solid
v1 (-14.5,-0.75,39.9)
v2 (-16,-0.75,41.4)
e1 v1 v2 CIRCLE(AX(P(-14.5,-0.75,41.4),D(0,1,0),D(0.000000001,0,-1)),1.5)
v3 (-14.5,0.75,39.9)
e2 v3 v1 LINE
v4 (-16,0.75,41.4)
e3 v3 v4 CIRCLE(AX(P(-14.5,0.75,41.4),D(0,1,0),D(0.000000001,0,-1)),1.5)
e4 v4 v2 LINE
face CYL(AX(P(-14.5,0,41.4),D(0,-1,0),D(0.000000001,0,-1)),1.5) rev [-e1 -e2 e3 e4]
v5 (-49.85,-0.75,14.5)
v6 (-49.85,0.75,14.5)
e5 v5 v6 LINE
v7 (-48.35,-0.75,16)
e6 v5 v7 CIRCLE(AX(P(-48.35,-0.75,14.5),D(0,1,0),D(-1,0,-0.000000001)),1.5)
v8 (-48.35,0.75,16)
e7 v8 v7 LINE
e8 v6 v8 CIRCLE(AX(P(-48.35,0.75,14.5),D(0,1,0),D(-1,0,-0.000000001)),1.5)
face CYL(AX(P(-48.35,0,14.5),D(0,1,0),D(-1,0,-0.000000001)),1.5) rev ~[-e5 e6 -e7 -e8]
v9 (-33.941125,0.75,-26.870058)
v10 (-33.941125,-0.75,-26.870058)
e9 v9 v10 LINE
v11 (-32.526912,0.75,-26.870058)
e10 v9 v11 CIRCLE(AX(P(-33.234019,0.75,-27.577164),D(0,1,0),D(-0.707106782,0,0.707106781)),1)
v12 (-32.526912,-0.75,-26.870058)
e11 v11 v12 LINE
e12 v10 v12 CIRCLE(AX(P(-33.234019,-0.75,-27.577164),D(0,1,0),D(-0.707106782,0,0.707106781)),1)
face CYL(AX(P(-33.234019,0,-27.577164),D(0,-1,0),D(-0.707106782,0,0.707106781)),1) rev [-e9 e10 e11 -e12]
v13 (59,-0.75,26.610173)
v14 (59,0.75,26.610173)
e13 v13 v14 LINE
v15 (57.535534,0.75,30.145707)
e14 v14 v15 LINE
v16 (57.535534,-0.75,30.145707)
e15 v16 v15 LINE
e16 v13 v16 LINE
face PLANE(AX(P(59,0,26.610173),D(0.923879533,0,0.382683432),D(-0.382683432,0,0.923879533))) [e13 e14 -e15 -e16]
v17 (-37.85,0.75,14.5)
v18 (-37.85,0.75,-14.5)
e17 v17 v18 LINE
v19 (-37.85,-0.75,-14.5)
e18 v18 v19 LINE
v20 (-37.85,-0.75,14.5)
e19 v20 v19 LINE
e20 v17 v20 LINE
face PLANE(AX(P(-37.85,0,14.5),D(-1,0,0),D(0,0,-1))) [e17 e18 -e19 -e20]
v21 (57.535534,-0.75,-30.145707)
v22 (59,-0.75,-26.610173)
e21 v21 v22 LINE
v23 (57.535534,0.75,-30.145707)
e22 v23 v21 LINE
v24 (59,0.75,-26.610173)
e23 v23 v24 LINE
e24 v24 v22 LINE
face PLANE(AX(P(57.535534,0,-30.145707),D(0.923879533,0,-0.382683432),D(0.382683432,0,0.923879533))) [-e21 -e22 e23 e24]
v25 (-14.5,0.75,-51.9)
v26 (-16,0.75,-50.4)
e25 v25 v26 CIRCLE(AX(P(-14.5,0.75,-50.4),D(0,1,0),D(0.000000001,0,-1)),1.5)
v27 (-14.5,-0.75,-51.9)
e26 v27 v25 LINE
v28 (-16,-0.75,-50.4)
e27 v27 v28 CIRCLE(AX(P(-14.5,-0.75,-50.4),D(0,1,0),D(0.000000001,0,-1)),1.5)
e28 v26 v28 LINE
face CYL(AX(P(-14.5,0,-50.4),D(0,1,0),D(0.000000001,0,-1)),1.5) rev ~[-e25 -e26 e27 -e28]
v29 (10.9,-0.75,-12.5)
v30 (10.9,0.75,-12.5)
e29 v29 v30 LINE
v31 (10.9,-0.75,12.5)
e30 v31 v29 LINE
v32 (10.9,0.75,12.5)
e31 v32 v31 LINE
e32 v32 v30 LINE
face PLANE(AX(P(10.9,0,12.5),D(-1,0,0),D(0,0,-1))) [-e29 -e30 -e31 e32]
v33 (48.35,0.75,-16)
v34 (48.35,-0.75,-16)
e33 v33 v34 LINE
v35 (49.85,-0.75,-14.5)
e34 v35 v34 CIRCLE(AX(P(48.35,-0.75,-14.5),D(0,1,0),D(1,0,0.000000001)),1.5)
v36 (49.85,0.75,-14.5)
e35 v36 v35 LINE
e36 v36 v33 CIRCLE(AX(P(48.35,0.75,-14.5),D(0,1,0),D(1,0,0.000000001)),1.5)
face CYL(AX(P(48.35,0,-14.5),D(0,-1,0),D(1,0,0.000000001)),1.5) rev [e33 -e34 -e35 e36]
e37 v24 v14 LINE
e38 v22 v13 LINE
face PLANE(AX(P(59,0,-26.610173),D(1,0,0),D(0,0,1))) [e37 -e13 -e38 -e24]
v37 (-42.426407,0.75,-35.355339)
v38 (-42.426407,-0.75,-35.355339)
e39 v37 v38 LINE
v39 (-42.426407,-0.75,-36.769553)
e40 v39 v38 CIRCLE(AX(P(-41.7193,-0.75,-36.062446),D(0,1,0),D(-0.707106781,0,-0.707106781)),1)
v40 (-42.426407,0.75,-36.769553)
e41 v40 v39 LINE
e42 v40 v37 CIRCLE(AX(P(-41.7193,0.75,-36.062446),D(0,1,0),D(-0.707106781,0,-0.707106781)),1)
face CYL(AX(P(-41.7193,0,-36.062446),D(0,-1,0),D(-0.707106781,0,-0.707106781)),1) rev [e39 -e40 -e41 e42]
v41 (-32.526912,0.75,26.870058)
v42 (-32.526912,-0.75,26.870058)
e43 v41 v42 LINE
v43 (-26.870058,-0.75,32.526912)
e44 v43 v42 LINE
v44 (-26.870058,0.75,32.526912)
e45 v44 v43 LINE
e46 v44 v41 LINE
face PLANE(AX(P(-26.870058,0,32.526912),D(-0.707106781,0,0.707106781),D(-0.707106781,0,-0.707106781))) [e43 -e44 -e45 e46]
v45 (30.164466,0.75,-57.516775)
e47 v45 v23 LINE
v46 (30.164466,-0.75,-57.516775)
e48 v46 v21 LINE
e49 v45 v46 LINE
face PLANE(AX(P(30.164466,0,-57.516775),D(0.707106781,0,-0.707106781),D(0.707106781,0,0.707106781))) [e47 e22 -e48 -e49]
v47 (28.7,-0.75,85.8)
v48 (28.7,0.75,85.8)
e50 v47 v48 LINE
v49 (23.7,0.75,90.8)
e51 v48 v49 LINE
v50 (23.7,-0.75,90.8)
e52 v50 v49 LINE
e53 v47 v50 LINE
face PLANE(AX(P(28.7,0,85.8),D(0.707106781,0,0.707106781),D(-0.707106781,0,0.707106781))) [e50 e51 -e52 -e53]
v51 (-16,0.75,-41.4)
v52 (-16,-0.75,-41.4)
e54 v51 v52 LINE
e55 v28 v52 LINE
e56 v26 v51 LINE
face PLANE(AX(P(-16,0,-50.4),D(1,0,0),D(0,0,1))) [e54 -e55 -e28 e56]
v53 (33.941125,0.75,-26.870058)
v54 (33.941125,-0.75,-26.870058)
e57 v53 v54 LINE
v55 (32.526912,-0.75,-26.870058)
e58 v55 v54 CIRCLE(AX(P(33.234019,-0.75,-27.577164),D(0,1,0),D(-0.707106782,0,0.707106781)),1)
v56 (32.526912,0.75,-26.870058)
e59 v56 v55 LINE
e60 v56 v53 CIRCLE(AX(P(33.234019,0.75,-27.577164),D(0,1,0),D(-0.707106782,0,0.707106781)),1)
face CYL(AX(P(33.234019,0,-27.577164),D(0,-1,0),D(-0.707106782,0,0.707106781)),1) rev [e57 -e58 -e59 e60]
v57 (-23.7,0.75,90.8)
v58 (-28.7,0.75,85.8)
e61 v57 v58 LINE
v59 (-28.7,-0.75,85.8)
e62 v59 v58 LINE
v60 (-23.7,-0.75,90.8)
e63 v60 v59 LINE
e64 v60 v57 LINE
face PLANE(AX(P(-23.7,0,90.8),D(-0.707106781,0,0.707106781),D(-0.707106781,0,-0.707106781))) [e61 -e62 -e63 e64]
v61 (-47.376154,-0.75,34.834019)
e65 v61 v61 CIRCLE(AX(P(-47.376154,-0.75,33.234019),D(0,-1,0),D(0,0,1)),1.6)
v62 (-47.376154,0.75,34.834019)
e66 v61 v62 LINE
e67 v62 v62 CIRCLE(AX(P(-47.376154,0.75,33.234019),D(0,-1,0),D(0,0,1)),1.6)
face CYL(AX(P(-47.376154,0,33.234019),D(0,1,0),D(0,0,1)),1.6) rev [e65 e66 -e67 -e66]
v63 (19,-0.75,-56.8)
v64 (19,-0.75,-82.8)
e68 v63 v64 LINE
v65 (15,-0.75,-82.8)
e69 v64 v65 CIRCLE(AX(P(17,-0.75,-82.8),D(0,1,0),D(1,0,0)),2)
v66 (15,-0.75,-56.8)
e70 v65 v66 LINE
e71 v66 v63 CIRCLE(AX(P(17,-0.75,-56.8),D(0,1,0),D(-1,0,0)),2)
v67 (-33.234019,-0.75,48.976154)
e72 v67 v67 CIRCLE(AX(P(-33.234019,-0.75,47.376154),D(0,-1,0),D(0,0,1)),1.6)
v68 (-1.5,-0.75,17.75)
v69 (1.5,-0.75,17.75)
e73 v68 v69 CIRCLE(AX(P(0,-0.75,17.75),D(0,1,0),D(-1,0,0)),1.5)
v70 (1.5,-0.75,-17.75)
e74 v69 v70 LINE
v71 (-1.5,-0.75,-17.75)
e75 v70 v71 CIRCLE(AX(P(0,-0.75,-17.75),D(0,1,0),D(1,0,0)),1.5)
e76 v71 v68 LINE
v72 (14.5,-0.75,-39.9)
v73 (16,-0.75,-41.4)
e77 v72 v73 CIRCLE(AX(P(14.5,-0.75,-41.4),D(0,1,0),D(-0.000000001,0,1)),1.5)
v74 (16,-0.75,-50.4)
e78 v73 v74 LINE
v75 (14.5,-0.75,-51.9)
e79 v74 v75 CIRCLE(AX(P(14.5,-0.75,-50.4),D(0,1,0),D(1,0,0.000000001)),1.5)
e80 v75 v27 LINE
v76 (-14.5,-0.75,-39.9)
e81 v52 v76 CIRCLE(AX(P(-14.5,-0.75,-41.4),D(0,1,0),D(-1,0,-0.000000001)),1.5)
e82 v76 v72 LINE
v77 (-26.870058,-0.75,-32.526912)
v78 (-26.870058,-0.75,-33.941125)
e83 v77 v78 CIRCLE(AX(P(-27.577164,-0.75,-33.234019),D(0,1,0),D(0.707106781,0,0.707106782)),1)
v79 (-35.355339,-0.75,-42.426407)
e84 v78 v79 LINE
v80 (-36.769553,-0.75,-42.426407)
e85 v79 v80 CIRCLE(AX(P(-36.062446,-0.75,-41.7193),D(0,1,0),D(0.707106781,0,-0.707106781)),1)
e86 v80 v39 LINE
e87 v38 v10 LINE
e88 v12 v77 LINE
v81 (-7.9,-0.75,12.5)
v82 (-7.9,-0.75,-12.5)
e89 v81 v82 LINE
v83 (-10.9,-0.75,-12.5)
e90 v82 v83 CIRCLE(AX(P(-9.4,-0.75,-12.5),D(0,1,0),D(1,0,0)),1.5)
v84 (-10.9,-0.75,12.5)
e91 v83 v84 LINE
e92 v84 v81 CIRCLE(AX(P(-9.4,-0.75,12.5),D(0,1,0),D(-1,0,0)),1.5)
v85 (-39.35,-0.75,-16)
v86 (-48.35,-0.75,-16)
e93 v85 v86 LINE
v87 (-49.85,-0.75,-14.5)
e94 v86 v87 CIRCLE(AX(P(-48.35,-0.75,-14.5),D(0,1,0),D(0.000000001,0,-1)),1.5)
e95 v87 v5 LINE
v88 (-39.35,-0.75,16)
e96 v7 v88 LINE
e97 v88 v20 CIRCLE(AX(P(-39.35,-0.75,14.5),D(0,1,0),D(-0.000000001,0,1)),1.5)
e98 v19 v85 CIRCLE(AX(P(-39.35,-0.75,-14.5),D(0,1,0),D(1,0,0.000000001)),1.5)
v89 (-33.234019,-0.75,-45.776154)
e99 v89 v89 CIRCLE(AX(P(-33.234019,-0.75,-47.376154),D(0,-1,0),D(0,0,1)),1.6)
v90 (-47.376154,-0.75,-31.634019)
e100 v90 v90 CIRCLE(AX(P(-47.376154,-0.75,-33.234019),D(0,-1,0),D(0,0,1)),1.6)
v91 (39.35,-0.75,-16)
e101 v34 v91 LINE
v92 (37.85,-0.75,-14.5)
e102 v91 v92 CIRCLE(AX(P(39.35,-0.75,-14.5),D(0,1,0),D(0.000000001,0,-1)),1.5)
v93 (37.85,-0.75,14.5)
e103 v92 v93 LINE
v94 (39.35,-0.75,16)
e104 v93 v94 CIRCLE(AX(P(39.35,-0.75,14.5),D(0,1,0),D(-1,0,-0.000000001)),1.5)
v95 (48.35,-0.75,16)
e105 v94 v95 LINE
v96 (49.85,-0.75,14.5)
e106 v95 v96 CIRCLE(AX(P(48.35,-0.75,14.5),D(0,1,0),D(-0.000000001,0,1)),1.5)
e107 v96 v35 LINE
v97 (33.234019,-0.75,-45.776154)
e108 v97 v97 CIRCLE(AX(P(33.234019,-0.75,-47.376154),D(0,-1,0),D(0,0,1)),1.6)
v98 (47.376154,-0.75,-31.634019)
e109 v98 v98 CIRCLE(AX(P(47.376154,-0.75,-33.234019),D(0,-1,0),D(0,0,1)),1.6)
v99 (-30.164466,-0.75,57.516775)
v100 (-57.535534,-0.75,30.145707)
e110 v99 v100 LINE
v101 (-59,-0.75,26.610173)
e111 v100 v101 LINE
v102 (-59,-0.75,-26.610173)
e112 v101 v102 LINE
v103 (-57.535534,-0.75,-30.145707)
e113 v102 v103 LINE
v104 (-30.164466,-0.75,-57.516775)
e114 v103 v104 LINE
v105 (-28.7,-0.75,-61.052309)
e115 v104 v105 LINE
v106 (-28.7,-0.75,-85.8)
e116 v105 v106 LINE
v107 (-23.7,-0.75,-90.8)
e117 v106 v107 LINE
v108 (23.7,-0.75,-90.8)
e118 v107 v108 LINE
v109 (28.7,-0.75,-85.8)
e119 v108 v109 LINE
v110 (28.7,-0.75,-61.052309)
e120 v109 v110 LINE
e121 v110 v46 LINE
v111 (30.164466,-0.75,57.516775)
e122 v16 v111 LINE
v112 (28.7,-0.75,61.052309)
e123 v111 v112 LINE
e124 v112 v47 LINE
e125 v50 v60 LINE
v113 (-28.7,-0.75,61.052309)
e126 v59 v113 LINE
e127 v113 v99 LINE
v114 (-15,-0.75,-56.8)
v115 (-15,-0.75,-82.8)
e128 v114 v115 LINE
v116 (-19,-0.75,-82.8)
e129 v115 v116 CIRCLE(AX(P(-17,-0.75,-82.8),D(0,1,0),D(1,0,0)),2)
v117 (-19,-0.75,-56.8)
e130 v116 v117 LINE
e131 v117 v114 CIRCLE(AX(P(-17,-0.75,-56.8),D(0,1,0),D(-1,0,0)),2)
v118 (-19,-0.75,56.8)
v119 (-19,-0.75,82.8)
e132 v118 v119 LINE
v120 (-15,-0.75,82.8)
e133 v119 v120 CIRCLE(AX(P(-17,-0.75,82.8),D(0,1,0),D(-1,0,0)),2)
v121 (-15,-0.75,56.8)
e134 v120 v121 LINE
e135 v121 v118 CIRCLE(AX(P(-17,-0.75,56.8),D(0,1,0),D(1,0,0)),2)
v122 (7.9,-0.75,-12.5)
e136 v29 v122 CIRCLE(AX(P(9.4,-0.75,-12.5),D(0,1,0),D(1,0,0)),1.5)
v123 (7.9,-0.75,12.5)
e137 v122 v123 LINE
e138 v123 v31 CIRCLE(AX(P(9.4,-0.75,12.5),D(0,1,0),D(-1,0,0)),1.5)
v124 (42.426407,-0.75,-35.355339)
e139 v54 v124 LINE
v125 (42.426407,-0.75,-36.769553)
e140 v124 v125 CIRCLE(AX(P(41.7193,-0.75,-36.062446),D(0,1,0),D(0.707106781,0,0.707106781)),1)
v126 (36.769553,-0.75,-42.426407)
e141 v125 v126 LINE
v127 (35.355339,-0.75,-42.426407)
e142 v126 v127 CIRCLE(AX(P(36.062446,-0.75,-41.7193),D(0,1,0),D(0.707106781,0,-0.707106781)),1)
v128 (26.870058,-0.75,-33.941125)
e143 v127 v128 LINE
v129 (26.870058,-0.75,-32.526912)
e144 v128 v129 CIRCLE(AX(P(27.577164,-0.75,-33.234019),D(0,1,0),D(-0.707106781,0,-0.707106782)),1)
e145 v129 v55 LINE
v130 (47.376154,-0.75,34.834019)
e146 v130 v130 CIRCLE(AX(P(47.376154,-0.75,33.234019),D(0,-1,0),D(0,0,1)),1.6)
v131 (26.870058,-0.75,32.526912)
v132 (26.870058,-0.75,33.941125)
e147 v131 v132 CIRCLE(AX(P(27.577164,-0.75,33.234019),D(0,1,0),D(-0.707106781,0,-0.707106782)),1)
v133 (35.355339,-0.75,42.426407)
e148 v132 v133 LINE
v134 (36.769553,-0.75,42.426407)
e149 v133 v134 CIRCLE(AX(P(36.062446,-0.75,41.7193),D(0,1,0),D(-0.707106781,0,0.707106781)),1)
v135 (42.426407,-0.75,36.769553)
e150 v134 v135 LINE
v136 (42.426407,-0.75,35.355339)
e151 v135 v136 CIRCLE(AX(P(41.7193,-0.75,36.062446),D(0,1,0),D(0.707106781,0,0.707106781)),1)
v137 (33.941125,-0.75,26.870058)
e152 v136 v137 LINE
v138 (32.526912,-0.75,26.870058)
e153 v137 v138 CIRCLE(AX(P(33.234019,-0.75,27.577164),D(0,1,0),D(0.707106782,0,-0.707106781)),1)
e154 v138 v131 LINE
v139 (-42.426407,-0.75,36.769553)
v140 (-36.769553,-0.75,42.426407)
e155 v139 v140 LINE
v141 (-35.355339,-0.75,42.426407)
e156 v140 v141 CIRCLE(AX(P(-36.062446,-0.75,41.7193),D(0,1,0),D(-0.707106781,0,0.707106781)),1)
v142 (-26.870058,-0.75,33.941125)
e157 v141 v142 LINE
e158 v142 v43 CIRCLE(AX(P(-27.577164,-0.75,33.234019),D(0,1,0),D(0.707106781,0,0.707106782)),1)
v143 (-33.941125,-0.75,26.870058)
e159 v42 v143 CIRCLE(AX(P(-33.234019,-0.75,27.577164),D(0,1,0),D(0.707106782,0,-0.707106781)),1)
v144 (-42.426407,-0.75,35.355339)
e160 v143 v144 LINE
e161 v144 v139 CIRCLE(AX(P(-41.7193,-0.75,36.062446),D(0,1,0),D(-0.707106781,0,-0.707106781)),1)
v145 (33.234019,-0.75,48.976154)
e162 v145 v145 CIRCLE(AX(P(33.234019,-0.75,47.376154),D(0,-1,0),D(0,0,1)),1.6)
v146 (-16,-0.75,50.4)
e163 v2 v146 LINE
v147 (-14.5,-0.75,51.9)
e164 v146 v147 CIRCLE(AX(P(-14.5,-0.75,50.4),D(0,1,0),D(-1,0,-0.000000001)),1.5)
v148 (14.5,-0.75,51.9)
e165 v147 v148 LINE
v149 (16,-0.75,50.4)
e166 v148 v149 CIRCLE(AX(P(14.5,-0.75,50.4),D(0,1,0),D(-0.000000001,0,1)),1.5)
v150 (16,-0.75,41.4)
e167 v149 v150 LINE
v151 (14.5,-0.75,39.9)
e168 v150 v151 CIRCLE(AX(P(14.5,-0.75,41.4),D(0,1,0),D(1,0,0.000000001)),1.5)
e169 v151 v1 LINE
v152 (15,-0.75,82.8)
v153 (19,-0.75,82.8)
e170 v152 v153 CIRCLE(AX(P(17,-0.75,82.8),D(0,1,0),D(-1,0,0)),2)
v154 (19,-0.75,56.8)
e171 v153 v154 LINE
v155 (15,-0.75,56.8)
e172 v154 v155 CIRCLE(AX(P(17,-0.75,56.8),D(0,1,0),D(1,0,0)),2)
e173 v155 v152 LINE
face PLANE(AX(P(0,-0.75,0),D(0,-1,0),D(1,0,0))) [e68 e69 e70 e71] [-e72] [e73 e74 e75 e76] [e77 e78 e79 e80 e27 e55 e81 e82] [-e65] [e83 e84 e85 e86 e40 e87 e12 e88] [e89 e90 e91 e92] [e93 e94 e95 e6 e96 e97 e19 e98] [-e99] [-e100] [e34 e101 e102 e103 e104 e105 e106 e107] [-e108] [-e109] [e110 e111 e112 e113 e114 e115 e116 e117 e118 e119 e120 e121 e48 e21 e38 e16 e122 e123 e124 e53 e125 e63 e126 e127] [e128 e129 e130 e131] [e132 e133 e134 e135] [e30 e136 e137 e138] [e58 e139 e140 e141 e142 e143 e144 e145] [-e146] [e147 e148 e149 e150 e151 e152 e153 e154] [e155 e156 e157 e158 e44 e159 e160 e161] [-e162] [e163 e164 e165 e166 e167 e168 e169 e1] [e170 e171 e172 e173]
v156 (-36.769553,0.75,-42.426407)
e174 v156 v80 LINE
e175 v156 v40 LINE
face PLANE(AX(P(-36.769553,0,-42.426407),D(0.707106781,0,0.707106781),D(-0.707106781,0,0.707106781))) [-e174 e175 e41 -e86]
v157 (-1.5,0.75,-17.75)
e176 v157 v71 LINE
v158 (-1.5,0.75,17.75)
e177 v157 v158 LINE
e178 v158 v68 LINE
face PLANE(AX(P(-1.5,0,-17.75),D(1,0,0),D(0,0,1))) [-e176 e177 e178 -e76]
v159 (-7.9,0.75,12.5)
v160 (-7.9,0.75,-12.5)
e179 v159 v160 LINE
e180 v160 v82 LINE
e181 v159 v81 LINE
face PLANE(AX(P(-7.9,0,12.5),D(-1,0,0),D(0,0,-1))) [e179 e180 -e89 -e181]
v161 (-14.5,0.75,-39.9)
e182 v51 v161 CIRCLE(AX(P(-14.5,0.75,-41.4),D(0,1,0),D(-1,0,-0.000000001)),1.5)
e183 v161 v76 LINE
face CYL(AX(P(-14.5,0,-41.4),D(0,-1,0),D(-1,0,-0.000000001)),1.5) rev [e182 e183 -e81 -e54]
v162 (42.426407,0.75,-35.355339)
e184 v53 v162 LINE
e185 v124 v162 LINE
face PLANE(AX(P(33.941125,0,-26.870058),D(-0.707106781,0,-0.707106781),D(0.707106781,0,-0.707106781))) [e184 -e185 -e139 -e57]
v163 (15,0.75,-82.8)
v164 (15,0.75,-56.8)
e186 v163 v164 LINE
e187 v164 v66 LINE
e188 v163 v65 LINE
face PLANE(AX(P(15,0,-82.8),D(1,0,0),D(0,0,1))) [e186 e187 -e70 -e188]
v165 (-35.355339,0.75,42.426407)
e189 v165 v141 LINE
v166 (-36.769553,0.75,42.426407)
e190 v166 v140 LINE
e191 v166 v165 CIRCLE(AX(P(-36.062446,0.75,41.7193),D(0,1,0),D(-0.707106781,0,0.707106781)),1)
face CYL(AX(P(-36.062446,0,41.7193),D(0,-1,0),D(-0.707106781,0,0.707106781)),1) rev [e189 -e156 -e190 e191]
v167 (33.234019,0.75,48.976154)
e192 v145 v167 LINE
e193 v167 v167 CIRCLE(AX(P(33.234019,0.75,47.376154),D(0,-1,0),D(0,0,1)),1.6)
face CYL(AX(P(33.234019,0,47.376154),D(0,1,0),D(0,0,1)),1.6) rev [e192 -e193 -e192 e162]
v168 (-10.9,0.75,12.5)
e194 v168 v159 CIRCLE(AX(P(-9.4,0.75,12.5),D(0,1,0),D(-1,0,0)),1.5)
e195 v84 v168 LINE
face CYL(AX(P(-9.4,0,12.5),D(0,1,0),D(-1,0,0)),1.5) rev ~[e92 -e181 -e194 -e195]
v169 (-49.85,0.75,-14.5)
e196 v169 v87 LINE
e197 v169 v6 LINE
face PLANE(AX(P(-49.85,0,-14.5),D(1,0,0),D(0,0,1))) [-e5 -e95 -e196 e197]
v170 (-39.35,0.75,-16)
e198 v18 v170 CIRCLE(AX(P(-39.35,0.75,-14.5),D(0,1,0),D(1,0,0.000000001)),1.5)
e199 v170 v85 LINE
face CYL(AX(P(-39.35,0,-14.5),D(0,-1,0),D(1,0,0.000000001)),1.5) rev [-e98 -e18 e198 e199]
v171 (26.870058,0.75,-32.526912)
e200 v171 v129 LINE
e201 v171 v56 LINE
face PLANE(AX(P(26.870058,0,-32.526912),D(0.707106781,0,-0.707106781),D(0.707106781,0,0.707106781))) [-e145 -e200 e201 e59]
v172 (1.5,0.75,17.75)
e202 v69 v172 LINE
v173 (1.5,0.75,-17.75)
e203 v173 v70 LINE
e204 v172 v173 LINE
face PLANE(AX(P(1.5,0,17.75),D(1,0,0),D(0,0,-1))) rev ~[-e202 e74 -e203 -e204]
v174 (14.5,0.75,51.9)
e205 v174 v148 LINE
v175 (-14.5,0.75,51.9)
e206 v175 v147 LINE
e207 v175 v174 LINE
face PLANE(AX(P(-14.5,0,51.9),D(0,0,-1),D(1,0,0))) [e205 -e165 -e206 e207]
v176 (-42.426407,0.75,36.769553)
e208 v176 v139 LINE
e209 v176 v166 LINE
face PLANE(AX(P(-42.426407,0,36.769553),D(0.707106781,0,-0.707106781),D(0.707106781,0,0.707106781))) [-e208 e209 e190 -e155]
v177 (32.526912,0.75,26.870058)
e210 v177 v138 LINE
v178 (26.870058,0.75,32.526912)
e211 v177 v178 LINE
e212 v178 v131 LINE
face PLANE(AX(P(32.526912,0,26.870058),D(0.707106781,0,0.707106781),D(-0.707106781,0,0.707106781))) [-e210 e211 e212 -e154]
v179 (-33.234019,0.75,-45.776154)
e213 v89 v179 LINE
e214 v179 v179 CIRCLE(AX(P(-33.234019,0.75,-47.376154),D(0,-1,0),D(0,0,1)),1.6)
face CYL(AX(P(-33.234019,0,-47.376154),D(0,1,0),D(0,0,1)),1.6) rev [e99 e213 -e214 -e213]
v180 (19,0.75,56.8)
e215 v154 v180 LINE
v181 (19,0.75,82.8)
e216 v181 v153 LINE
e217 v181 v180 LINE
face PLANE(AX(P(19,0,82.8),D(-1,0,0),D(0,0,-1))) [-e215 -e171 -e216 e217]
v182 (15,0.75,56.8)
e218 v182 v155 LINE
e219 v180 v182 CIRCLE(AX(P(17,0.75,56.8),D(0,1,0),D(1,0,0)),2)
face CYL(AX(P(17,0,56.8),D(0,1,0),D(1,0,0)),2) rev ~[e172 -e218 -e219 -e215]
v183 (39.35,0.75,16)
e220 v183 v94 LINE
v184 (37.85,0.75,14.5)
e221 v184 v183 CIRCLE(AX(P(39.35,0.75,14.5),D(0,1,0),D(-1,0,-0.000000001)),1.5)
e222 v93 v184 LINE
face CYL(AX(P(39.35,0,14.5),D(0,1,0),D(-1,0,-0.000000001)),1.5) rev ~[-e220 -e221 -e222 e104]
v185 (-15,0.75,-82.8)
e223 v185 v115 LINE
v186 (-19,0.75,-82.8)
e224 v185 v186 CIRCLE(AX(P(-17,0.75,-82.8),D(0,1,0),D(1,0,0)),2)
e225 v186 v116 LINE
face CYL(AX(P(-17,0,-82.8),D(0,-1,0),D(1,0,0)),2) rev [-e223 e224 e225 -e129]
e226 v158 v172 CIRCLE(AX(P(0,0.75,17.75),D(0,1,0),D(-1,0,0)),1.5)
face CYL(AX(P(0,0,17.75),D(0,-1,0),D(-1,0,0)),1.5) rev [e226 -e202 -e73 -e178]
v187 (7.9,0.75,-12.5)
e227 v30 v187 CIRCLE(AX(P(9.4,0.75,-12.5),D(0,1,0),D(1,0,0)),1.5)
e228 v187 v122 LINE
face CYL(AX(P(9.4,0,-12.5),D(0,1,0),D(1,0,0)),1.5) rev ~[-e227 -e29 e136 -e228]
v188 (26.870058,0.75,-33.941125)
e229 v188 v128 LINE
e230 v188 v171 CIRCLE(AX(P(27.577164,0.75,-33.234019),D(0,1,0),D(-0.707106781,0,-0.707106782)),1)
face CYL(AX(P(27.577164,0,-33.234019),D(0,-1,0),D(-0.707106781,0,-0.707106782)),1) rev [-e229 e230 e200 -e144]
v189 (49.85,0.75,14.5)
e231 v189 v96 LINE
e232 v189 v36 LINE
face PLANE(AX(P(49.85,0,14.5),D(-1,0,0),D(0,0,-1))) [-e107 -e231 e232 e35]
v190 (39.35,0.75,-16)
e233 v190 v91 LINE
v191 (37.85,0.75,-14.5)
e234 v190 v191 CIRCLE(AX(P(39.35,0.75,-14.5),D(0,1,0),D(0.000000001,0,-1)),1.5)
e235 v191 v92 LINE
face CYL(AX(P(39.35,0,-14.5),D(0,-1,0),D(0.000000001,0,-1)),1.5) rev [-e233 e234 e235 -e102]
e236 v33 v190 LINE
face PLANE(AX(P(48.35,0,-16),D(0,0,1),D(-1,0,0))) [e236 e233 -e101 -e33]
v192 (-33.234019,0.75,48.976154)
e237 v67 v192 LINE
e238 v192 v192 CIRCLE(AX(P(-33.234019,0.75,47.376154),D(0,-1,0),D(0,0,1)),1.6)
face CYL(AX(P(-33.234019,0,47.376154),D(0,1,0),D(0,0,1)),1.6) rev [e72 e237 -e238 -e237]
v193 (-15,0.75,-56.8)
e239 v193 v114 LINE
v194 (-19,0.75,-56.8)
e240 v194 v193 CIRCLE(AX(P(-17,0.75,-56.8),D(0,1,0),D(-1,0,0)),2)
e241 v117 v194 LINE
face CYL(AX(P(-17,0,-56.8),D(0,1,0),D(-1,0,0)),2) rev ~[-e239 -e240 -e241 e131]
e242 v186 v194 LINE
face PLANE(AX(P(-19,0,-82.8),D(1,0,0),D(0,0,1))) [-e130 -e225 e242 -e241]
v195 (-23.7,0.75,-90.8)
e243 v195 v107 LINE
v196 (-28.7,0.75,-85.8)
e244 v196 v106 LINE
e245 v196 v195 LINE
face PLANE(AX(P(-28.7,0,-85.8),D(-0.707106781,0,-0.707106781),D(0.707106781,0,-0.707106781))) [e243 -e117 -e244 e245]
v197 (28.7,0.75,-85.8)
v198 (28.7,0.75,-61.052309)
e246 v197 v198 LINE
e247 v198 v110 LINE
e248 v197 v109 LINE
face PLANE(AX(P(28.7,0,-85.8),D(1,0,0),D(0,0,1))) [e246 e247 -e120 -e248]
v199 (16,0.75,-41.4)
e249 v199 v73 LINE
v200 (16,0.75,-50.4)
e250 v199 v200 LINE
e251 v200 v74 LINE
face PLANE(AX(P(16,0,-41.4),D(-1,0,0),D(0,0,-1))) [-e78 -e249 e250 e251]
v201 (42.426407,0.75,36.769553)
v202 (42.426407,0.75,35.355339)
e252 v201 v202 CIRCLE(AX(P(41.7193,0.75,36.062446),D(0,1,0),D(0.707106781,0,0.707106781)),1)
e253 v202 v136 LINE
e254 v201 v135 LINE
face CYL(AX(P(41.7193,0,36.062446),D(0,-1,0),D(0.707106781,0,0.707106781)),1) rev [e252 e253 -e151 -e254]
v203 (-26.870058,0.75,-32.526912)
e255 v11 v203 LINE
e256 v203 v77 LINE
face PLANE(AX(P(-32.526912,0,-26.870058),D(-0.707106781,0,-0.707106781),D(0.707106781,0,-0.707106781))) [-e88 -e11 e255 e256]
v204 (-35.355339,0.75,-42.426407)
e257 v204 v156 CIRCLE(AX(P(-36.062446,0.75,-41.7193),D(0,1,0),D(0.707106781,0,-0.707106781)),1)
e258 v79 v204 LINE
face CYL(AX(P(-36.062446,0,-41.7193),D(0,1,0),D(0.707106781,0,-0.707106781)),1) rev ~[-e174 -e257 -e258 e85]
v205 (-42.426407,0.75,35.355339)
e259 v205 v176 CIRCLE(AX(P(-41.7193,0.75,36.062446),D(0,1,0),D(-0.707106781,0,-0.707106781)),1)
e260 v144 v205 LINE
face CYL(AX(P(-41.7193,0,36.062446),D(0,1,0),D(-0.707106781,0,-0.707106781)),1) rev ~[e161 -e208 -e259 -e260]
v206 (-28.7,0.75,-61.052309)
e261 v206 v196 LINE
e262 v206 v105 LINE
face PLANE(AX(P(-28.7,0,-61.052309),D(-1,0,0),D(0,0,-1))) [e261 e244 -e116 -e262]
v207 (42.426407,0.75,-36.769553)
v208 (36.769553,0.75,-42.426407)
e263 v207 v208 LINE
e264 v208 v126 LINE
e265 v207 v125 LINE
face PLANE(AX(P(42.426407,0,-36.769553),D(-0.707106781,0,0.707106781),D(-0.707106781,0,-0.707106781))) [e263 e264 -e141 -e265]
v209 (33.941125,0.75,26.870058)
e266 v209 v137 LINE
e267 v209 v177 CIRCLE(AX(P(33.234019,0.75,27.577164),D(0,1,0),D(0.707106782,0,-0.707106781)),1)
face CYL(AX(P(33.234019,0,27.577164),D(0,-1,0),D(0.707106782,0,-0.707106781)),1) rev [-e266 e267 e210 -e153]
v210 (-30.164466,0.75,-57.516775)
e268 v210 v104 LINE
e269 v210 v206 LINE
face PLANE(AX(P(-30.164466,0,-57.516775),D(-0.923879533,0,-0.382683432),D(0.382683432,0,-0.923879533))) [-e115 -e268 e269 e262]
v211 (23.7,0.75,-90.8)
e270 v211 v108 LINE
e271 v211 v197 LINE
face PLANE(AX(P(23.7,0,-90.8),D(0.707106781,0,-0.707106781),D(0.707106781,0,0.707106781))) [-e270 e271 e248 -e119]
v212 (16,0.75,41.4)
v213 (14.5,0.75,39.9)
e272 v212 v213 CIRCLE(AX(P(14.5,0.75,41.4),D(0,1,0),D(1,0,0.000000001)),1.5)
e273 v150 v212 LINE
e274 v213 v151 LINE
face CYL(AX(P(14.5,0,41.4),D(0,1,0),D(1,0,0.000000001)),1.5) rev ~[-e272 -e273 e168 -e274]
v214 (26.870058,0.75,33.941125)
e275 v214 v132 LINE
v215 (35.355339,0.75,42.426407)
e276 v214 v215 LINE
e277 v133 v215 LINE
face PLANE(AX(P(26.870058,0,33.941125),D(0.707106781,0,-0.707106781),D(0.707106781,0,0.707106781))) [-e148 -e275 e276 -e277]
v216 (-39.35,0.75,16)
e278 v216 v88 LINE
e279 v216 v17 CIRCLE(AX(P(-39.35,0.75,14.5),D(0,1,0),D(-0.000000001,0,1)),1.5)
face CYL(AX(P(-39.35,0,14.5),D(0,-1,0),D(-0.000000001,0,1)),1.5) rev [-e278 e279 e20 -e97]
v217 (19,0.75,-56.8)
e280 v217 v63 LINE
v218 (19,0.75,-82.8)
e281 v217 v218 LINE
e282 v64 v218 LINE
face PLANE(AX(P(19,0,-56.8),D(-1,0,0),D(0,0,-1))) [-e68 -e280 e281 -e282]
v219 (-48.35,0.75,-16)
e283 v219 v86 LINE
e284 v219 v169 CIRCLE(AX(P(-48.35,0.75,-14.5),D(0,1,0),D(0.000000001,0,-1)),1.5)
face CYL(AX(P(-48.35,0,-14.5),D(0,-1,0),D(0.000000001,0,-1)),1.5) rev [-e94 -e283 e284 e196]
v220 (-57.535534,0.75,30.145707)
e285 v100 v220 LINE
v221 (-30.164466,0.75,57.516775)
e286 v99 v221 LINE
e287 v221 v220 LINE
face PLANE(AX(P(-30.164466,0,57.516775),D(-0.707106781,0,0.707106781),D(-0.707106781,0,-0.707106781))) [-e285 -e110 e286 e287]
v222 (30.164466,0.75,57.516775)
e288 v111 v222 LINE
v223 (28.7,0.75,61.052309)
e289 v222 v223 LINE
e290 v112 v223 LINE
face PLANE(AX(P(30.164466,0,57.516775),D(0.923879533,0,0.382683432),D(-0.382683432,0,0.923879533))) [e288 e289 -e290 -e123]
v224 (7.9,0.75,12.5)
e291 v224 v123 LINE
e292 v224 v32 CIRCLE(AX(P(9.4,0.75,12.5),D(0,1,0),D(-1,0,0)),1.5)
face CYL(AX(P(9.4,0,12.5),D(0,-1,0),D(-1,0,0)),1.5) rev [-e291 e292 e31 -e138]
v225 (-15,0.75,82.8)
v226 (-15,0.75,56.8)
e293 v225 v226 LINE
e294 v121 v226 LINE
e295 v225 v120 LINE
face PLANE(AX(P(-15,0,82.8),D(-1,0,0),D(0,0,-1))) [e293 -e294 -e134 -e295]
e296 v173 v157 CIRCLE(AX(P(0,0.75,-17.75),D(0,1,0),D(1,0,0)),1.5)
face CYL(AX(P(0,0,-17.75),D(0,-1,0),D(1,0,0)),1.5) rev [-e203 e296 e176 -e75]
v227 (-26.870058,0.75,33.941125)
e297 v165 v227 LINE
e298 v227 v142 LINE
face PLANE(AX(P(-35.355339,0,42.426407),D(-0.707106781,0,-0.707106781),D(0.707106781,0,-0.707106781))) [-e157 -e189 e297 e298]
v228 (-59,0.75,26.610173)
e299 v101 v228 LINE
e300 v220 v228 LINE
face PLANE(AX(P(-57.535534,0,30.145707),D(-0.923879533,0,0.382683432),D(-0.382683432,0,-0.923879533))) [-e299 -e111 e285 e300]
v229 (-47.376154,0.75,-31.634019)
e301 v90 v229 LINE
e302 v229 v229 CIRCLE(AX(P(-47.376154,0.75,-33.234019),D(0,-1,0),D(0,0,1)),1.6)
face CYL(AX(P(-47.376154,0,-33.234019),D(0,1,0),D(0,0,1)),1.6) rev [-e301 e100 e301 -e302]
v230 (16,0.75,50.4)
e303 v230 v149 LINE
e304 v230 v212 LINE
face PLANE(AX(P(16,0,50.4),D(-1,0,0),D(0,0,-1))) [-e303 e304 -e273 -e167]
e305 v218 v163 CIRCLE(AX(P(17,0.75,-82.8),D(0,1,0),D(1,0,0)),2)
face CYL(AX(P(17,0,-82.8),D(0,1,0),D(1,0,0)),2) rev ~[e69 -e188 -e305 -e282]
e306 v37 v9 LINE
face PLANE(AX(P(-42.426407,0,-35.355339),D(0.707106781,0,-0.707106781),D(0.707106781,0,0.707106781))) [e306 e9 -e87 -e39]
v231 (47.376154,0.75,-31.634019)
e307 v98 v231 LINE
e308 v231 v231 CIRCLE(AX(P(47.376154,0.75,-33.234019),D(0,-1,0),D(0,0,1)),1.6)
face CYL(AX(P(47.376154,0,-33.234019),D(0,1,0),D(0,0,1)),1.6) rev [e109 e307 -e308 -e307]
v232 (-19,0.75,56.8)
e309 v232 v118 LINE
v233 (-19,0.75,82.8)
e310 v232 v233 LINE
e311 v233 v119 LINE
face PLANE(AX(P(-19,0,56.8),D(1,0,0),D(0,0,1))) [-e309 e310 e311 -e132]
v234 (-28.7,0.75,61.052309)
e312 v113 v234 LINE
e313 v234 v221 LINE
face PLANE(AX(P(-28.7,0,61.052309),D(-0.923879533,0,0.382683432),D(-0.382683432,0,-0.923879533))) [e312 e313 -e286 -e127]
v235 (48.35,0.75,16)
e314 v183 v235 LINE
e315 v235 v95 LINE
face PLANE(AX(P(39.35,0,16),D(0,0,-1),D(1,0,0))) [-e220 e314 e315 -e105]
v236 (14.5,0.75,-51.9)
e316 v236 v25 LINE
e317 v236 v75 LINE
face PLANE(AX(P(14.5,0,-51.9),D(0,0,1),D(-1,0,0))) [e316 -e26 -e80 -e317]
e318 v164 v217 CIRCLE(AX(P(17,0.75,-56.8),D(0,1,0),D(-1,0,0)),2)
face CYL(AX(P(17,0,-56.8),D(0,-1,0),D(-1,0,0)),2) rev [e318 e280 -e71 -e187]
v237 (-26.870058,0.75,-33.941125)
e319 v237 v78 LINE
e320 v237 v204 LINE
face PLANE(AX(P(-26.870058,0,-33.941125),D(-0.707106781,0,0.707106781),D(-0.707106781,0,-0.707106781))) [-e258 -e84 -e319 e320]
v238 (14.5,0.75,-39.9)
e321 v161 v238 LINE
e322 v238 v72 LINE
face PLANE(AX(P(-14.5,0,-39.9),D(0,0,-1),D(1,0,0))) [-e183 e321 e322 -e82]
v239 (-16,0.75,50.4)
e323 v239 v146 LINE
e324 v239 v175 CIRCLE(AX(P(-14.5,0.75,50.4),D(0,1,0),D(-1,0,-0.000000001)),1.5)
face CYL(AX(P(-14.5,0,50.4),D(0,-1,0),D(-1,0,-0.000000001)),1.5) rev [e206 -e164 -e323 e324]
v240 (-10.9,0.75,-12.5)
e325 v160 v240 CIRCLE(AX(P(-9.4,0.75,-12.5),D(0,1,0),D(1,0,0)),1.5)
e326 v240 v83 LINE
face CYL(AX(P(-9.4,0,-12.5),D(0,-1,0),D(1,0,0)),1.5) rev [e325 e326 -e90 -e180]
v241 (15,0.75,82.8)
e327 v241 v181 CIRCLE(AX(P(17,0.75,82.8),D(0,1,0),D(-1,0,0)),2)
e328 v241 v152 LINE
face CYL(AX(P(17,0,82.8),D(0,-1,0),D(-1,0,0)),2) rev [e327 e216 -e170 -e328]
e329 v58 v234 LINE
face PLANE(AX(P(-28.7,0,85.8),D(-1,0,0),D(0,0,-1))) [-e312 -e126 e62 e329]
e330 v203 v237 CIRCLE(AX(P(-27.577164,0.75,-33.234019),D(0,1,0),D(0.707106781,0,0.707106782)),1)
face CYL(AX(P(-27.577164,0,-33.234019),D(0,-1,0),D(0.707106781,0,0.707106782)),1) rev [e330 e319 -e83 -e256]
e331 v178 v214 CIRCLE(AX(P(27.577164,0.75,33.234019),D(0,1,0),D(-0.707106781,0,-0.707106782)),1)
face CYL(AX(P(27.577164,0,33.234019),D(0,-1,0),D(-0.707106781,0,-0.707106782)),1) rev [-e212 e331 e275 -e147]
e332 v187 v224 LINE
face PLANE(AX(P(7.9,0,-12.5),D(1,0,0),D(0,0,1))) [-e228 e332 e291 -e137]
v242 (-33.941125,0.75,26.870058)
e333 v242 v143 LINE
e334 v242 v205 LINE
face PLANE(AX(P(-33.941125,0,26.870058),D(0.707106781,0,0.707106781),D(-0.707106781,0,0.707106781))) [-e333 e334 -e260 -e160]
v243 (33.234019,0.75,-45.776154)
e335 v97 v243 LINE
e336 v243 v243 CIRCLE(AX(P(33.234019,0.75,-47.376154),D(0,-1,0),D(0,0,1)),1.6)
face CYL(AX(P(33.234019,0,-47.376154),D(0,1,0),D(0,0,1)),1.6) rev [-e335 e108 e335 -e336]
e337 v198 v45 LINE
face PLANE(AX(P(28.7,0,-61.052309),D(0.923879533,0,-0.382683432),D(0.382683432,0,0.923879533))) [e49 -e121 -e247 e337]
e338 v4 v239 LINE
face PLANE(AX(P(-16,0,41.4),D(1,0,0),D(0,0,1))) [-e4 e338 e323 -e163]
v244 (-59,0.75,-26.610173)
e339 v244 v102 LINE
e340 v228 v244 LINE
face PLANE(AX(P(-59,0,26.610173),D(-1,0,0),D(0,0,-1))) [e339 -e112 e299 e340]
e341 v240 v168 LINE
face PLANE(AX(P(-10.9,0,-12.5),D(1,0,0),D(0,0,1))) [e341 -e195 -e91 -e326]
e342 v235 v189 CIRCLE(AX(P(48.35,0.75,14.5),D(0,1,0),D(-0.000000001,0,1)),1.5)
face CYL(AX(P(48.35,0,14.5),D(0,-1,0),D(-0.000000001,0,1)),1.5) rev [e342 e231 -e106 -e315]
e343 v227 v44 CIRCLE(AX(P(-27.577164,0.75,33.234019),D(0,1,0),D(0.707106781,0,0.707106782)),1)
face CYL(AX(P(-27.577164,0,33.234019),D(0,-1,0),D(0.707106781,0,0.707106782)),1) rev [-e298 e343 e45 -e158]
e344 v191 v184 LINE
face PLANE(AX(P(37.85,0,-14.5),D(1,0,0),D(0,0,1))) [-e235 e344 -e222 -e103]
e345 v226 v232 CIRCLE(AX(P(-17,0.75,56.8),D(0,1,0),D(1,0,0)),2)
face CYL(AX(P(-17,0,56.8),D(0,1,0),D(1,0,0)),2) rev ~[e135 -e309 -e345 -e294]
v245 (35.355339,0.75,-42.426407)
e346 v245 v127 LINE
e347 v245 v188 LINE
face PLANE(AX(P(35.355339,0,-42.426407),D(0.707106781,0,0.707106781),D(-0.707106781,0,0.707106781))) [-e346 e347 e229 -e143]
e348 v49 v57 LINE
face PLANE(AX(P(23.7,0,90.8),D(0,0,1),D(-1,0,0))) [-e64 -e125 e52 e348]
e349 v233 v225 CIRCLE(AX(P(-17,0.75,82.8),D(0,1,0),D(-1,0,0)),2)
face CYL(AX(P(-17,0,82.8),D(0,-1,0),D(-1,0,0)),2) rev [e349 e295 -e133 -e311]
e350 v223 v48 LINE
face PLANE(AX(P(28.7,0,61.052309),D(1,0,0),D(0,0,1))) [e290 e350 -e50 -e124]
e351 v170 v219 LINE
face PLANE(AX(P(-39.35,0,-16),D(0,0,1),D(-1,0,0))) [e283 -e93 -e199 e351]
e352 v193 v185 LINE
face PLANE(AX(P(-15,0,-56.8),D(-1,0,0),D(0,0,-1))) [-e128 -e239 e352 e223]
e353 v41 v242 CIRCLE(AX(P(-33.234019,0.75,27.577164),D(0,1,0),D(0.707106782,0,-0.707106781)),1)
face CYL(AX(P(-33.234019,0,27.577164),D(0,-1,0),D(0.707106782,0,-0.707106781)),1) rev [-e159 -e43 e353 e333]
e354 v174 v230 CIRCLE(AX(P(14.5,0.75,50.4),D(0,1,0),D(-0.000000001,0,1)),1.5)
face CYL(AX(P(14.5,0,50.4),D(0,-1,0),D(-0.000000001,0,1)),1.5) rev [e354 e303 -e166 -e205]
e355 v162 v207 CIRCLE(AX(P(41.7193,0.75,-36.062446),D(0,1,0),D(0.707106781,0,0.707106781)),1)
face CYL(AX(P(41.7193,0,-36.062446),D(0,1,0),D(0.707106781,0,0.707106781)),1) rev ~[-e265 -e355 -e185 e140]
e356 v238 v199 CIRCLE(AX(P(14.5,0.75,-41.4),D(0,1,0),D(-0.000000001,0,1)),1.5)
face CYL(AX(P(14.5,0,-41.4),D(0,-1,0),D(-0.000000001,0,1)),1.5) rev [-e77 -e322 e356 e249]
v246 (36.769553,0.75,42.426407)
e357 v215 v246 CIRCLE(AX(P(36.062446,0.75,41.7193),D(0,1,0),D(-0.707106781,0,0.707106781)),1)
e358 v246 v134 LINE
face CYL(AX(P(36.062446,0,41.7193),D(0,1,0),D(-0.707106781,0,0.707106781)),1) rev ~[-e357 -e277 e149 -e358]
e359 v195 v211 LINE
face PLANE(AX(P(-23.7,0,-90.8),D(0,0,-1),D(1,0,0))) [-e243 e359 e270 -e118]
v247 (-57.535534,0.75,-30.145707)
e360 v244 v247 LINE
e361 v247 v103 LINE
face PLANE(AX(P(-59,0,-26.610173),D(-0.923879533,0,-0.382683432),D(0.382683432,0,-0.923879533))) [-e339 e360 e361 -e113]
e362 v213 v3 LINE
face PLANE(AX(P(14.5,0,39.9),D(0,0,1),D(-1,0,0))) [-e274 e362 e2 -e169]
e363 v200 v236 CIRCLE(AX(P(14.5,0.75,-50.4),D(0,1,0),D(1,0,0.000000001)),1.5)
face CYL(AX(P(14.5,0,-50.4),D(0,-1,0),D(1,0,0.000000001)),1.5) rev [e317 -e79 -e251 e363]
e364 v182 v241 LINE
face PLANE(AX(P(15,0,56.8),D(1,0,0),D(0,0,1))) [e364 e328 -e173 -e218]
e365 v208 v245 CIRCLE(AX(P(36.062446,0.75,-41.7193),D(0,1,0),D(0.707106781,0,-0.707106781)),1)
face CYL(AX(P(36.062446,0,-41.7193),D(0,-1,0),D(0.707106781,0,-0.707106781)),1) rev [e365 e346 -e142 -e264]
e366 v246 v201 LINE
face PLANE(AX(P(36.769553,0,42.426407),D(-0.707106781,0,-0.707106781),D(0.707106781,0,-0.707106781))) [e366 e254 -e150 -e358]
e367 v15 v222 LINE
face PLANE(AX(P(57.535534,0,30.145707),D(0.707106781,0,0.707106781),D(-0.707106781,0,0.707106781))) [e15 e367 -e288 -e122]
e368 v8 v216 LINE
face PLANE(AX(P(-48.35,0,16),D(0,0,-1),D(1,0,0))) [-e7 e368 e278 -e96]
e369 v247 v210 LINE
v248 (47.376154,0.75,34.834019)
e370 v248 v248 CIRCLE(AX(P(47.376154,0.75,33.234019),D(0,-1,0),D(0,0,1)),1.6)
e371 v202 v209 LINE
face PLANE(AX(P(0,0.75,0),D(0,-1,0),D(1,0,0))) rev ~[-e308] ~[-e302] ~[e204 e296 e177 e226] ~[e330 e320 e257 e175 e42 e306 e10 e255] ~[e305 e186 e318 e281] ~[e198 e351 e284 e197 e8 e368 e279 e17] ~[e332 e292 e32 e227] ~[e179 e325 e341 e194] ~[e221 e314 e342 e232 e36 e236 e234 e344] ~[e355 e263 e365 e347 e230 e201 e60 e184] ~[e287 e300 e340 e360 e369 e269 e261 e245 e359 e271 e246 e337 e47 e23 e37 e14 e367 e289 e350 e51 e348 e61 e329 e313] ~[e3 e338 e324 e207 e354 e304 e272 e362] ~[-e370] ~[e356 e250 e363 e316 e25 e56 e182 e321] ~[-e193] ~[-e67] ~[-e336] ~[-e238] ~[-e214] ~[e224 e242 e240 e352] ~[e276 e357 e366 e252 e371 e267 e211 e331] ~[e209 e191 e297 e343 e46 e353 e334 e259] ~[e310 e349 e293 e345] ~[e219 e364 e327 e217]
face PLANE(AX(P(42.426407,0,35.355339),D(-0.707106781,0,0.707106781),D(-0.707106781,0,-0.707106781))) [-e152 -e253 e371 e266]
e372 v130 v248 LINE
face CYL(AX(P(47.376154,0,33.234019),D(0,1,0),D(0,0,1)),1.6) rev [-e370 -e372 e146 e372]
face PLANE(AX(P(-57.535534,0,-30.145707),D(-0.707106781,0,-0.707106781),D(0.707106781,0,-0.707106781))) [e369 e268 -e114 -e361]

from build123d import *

# Parameters (mm, degrees)
SKETCH1_R           = 1.6
BOSS_EXTRUDE1_DEPTH = 0.75


with BuildPart() as part:
    # Sketch1 → Boss-Extrude1 (new, symmetric)
    with BuildSketch(Plane.XZ):
        Polygon((-59, 26.610173055), (-59, -26.610173055), (-57.535533906, -30.145706961), (-30.164466094, -57.516774773), (-28.7, -61.052308679), (-28.7, -85.8), (-23.7, -90.8), (23.7, -90.8), (28.7, -85.8), (28.7, -61.052308679), (30.164466094, -57.516774773), (57.535533906, -30.145706961), (59, -26.610173055), (59, 26.610173055), (57.535533906, 30.145706961), (30.164466094, 57.516774773), (28.7, 61.052308679), (28.7, 85.8), (23.7, 90.8), (-23.7, 90.8), (-28.7, 85.8), (-28.7, 61.052308679), (-30.164466094, 57.516774773), (-57.535533906, 30.145706961), align=None)
        with Locations(Location((-33.234018716, -47.376154339, 0), (0, 0, 90))):
            Circle(SKETCH1_R, mode=Mode.SUBTRACT)
        with Locations(Location((-47.376154339, -33.234018716, 0), (0, 0, 90))):
            Circle(SKETCH1_R, mode=Mode.SUBTRACT)
        with Locations(Location((-47.376154339, 33.234018716, 0), (0, 0, 90))):
            Circle(SKETCH1_R, mode=Mode.SUBTRACT)
        with Locations(Location((-33.234018716, 47.376154339, 0), (0, 0, 90))):
            Circle(SKETCH1_R, mode=Mode.SUBTRACT)
        with Locations(Location((33.234018716, 47.376154339, 0), (0, 0, 90))):
            Circle(SKETCH1_R, mode=Mode.SUBTRACT)
        with Locations(Location((47.376154339, 33.234018716, 0), (0, 0, 90))):
            Circle(SKETCH1_R, mode=Mode.SUBTRACT)
        with Locations(Location((47.376154339, -33.234018716, 0), (0, 0, 90))):
            Circle(SKETCH1_R, mode=Mode.SUBTRACT)
        with Locations(Location((33.234018716, -47.376154339, 0), (0, 0, 90))):
            Circle(SKETCH1_R, mode=Mode.SUBTRACT)
        with BuildLine():
            Line((-19, -82.8), (-19, -56.8))
            ThreePointArc((-19, -56.8), (-17, -54.8), (-15, -56.8))
            Line((-15, -56.8), (-15, -82.8))
            ThreePointArc((-15, -82.8), (-17, -84.8), (-19, -82.8))
        make_face(mode=Mode.SUBTRACT)
        with BuildLine():
            Line((19, 82.8), (19, 56.8))
            ThreePointArc((19, 56.8), (17, 54.8), (15, 56.8))
            Line((15, 56.8), (15, 82.8))
            ThreePointArc((15, 82.8), (17, 84.8), (19, 82.8))
        make_face(mode=Mode.SUBTRACT)
        with BuildLine():
            Line((-15, 82.8), (-15, 56.8))
            ThreePointArc((-15, 56.8), (-17, 54.8), (-19, 56.8))
            Line((-19, 56.8), (-19, 82.8))
            ThreePointArc((-19, 82.8), (-17, 84.8), (-15, 82.8))
        make_face(mode=Mode.SUBTRACT)
        with BuildLine():
            Line((-14.5, 51.9), (14.5, 51.9))
            ThreePointArc((14.5, 51.9), (15.560660172, 51.460660172), (16, 50.4))
            Line((16, 50.4), (16, 41.4))
            ThreePointArc((16, 41.4), (15.560660172, 40.339339828), (14.5, 39.9))
            Line((14.5, 39.9), (-14.5, 39.9))
            ThreePointArc((-14.5, 39.9), (-15.560660172, 40.339339828), (-16, 41.4))
            Line((-16, 41.4), (-16, 50.4))
            ThreePointArc((-16, 50.4), (-15.560660172, 51.460660172), (-14.5, 51.9))
        make_face(mode=Mode.SUBTRACT)
        with BuildLine():
            Line((16, -41.4), (16, -50.4))
            ThreePointArc((16, -50.4), (15.560660172, -51.460660172), (14.5, -51.9))
            Line((14.5, -51.9), (-14.5, -51.9))
            ThreePointArc((-14.5, -51.9), (-15.560660172, -51.460660172), (-16, -50.4))
            Line((-16, -50.4), (-16, -41.4))
            ThreePointArc((-16, -41.4), (-15.560660172, -40.339339828), (-14.5, -39.9))
            Line((-14.5, -39.9), (14.5, -39.9))
            ThreePointArc((14.5, -39.9), (15.560660172, -40.339339828), (16, -41.4))
        make_face(mode=Mode.SUBTRACT)
        with BuildLine():
            Line((19, -56.8), (19, -82.8))
            ThreePointArc((19, -82.8), (17, -84.8), (15, -82.8))
            Line((15, -82.8), (15, -56.8))
            ThreePointArc((15, -56.8), (17, -54.8), (19, -56.8))
        make_face(mode=Mode.SUBTRACT)
        with BuildLine():
            Line((-10.9, -12.5), (-10.9, 12.5))
            ThreePointArc((-10.9, 12.5), (-9.4, 14), (-7.9, 12.5))
            Line((-7.9, 12.5), (-7.9, -12.5))
            ThreePointArc((-7.9, -12.5), (-9.4, -14), (-10.9, -12.5))
        make_face(mode=Mode.SUBTRACT)
        with BuildLine():
            Line((10.9, 12.5), (10.9, -12.5))
            ThreePointArc((10.9, -12.5), (9.4, -14), (7.9, -12.5))
            Line((7.9, -12.5), (7.9, 12.5))
            ThreePointArc((7.9, 12.5), (9.4, 14), (10.9, 12.5))
        make_face(mode=Mode.SUBTRACT)
        with BuildLine():
            Line((-32.526911935, -26.870057685), (-26.870057685, -32.526911935))
            ThreePointArc((-26.870057685, -32.526911935), (-26.577164466, -33.234018716), (-26.870057685, -33.941125497))
            Line((-26.870057685, -33.941125497), (-35.355339059, -42.426406871))
            ThreePointArc((-35.355339059, -42.426406871), (-36.062445841, -42.71930009), (-36.769552622, -42.426406871))
            Line((-36.769552622, -42.426406871), (-42.426406871, -36.769552622))
            ThreePointArc((-42.426406871, -36.769552622), (-42.71930009, -36.062445841), (-42.426406871, -35.355339059))
            Line((-42.426406871, -35.355339059), (-33.941125497, -26.870057685))
            ThreePointArc((-33.941125497, -26.870057685), (-33.234018716, -26.577164466), (-32.526911935, -26.870057685))
        make_face(mode=Mode.SUBTRACT)
        with BuildLine():
            Line((-26.870057685, 32.526911935), (-32.526911935, 26.870057685))
            ThreePointArc((-32.526911935, 26.870057685), (-33.234018716, 26.577164466), (-33.941125497, 26.870057685))
            Line((-33.941125497, 26.870057685), (-42.426406871, 35.355339059))
            ThreePointArc((-42.426406871, 35.355339059), (-42.71930009, 36.062445841), (-42.426406871, 36.769552622))
            Line((-42.426406871, 36.769552622), (-36.769552622, 42.426406871))
            ThreePointArc((-36.769552622, 42.426406871), (-36.062445841, 42.71930009), (-35.355339059, 42.426406871))
            Line((-35.355339059, 42.426406871), (-26.870057685, 33.941125497))
            ThreePointArc((-26.870057685, 33.941125497), (-26.577164466, 33.234018716), (-26.870057685, 32.526911935))
        make_face(mode=Mode.SUBTRACT)
        with BuildLine():
            Line((48.35, -16), (39.35, -16))
            ThreePointArc((39.35, -16), (38.289339828, -15.560660172), (37.85, -14.5))
            Line((37.85, -14.5), (37.85, 14.5))
            ThreePointArc((37.85, 14.5), (38.289339828, 15.560660172), (39.35, 16))
            Line((39.35, 16), (48.35, 16))
            ThreePointArc((48.35, 16), (49.410660172, 15.560660172), (49.85, 14.5))
            Line((49.85, 14.5), (49.85, -14.5))
            ThreePointArc((49.85, -14.5), (49.410660172, -15.560660172), (48.35, -16))
        make_face(mode=Mode.SUBTRACT)
        with BuildLine():
            Line((-39.35, -16), (-48.35, -16))
            ThreePointArc((-48.35, -16), (-49.410660172, -15.560660172), (-49.85, -14.5))
            Line((-49.85, -14.5), (-49.85, 14.5))
            ThreePointArc((-49.85, 14.5), (-49.410660172, 15.560660172), (-48.35, 16))
            Line((-48.35, 16), (-39.35, 16))
            ThreePointArc((-39.35, 16), (-38.289339828, 15.560660172), (-37.85, 14.5))
            Line((-37.85, 14.5), (-37.85, -14.5))
            ThreePointArc((-37.85, -14.5), (-38.289339828, -15.560660172), (-39.35, -16))
        make_face(mode=Mode.SUBTRACT)
        with BuildLine():
            Line((26.870057685, -32.526911935), (32.526911935, -26.870057685))
            ThreePointArc((32.526911935, -26.870057685), (33.234018716, -26.577164466), (33.941125497, -26.870057685))
            Line((33.941125497, -26.870057685), (42.426406871, -35.355339059))
            ThreePointArc((42.426406871, -35.355339059), (42.71930009, -36.062445841), (42.426406871, -36.769552622))
            Line((42.426406871, -36.769552622), (36.769552622, -42.426406871))
            ThreePointArc((36.769552622, -42.426406871), (36.062445841, -42.71930009), (35.355339059, -42.426406871))
            Line((35.355339059, -42.426406871), (26.870057685, -33.941125497))
            ThreePointArc((26.870057685, -33.941125497), (26.577164466, -33.234018716), (26.870057685, -32.526911935))
        make_face(mode=Mode.SUBTRACT)
        with BuildLine():
            Line((32.526911935, 26.870057685), (26.870057685, 32.526911935))
            ThreePointArc((26.870057685, 32.526911935), (26.577164466, 33.234018716), (26.870057685, 33.941125497))
            Line((26.870057685, 33.941125497), (35.355339059, 42.426406871))
            ThreePointArc((35.355339059, 42.426406871), (36.062445841, 42.71930009), (36.769552622, 42.426406871))
            Line((36.769552622, 42.426406871), (42.426406871, 36.769552622))
            ThreePointArc((42.426406871, 36.769552622), (42.71930009, 36.062445841), (42.426406871, 35.355339059))
            Line((42.426406871, 35.355339059), (33.941125497, 26.870057685))
            ThreePointArc((33.941125497, 26.870057685), (33.234018716, 26.577164466), (32.526911935, 26.870057685))
        make_face(mode=Mode.SUBTRACT)
        with BuildLine():
            Line((1.5, 17.75), (1.5, -17.75))
            ThreePointArc((1.5, -17.75), (0, -19.25), (-1.5, -17.75))
            Line((-1.5, -17.75), (-1.5, 17.75))
            ThreePointArc((-1.5, 17.75), (0, 19.25), (1.5, 17.75))
        make_face(mode=Mode.SUBTRACT)
    extrude(amount=BOSS_EXTRUDE1_DEPTH, both=True)


solid = part.part
